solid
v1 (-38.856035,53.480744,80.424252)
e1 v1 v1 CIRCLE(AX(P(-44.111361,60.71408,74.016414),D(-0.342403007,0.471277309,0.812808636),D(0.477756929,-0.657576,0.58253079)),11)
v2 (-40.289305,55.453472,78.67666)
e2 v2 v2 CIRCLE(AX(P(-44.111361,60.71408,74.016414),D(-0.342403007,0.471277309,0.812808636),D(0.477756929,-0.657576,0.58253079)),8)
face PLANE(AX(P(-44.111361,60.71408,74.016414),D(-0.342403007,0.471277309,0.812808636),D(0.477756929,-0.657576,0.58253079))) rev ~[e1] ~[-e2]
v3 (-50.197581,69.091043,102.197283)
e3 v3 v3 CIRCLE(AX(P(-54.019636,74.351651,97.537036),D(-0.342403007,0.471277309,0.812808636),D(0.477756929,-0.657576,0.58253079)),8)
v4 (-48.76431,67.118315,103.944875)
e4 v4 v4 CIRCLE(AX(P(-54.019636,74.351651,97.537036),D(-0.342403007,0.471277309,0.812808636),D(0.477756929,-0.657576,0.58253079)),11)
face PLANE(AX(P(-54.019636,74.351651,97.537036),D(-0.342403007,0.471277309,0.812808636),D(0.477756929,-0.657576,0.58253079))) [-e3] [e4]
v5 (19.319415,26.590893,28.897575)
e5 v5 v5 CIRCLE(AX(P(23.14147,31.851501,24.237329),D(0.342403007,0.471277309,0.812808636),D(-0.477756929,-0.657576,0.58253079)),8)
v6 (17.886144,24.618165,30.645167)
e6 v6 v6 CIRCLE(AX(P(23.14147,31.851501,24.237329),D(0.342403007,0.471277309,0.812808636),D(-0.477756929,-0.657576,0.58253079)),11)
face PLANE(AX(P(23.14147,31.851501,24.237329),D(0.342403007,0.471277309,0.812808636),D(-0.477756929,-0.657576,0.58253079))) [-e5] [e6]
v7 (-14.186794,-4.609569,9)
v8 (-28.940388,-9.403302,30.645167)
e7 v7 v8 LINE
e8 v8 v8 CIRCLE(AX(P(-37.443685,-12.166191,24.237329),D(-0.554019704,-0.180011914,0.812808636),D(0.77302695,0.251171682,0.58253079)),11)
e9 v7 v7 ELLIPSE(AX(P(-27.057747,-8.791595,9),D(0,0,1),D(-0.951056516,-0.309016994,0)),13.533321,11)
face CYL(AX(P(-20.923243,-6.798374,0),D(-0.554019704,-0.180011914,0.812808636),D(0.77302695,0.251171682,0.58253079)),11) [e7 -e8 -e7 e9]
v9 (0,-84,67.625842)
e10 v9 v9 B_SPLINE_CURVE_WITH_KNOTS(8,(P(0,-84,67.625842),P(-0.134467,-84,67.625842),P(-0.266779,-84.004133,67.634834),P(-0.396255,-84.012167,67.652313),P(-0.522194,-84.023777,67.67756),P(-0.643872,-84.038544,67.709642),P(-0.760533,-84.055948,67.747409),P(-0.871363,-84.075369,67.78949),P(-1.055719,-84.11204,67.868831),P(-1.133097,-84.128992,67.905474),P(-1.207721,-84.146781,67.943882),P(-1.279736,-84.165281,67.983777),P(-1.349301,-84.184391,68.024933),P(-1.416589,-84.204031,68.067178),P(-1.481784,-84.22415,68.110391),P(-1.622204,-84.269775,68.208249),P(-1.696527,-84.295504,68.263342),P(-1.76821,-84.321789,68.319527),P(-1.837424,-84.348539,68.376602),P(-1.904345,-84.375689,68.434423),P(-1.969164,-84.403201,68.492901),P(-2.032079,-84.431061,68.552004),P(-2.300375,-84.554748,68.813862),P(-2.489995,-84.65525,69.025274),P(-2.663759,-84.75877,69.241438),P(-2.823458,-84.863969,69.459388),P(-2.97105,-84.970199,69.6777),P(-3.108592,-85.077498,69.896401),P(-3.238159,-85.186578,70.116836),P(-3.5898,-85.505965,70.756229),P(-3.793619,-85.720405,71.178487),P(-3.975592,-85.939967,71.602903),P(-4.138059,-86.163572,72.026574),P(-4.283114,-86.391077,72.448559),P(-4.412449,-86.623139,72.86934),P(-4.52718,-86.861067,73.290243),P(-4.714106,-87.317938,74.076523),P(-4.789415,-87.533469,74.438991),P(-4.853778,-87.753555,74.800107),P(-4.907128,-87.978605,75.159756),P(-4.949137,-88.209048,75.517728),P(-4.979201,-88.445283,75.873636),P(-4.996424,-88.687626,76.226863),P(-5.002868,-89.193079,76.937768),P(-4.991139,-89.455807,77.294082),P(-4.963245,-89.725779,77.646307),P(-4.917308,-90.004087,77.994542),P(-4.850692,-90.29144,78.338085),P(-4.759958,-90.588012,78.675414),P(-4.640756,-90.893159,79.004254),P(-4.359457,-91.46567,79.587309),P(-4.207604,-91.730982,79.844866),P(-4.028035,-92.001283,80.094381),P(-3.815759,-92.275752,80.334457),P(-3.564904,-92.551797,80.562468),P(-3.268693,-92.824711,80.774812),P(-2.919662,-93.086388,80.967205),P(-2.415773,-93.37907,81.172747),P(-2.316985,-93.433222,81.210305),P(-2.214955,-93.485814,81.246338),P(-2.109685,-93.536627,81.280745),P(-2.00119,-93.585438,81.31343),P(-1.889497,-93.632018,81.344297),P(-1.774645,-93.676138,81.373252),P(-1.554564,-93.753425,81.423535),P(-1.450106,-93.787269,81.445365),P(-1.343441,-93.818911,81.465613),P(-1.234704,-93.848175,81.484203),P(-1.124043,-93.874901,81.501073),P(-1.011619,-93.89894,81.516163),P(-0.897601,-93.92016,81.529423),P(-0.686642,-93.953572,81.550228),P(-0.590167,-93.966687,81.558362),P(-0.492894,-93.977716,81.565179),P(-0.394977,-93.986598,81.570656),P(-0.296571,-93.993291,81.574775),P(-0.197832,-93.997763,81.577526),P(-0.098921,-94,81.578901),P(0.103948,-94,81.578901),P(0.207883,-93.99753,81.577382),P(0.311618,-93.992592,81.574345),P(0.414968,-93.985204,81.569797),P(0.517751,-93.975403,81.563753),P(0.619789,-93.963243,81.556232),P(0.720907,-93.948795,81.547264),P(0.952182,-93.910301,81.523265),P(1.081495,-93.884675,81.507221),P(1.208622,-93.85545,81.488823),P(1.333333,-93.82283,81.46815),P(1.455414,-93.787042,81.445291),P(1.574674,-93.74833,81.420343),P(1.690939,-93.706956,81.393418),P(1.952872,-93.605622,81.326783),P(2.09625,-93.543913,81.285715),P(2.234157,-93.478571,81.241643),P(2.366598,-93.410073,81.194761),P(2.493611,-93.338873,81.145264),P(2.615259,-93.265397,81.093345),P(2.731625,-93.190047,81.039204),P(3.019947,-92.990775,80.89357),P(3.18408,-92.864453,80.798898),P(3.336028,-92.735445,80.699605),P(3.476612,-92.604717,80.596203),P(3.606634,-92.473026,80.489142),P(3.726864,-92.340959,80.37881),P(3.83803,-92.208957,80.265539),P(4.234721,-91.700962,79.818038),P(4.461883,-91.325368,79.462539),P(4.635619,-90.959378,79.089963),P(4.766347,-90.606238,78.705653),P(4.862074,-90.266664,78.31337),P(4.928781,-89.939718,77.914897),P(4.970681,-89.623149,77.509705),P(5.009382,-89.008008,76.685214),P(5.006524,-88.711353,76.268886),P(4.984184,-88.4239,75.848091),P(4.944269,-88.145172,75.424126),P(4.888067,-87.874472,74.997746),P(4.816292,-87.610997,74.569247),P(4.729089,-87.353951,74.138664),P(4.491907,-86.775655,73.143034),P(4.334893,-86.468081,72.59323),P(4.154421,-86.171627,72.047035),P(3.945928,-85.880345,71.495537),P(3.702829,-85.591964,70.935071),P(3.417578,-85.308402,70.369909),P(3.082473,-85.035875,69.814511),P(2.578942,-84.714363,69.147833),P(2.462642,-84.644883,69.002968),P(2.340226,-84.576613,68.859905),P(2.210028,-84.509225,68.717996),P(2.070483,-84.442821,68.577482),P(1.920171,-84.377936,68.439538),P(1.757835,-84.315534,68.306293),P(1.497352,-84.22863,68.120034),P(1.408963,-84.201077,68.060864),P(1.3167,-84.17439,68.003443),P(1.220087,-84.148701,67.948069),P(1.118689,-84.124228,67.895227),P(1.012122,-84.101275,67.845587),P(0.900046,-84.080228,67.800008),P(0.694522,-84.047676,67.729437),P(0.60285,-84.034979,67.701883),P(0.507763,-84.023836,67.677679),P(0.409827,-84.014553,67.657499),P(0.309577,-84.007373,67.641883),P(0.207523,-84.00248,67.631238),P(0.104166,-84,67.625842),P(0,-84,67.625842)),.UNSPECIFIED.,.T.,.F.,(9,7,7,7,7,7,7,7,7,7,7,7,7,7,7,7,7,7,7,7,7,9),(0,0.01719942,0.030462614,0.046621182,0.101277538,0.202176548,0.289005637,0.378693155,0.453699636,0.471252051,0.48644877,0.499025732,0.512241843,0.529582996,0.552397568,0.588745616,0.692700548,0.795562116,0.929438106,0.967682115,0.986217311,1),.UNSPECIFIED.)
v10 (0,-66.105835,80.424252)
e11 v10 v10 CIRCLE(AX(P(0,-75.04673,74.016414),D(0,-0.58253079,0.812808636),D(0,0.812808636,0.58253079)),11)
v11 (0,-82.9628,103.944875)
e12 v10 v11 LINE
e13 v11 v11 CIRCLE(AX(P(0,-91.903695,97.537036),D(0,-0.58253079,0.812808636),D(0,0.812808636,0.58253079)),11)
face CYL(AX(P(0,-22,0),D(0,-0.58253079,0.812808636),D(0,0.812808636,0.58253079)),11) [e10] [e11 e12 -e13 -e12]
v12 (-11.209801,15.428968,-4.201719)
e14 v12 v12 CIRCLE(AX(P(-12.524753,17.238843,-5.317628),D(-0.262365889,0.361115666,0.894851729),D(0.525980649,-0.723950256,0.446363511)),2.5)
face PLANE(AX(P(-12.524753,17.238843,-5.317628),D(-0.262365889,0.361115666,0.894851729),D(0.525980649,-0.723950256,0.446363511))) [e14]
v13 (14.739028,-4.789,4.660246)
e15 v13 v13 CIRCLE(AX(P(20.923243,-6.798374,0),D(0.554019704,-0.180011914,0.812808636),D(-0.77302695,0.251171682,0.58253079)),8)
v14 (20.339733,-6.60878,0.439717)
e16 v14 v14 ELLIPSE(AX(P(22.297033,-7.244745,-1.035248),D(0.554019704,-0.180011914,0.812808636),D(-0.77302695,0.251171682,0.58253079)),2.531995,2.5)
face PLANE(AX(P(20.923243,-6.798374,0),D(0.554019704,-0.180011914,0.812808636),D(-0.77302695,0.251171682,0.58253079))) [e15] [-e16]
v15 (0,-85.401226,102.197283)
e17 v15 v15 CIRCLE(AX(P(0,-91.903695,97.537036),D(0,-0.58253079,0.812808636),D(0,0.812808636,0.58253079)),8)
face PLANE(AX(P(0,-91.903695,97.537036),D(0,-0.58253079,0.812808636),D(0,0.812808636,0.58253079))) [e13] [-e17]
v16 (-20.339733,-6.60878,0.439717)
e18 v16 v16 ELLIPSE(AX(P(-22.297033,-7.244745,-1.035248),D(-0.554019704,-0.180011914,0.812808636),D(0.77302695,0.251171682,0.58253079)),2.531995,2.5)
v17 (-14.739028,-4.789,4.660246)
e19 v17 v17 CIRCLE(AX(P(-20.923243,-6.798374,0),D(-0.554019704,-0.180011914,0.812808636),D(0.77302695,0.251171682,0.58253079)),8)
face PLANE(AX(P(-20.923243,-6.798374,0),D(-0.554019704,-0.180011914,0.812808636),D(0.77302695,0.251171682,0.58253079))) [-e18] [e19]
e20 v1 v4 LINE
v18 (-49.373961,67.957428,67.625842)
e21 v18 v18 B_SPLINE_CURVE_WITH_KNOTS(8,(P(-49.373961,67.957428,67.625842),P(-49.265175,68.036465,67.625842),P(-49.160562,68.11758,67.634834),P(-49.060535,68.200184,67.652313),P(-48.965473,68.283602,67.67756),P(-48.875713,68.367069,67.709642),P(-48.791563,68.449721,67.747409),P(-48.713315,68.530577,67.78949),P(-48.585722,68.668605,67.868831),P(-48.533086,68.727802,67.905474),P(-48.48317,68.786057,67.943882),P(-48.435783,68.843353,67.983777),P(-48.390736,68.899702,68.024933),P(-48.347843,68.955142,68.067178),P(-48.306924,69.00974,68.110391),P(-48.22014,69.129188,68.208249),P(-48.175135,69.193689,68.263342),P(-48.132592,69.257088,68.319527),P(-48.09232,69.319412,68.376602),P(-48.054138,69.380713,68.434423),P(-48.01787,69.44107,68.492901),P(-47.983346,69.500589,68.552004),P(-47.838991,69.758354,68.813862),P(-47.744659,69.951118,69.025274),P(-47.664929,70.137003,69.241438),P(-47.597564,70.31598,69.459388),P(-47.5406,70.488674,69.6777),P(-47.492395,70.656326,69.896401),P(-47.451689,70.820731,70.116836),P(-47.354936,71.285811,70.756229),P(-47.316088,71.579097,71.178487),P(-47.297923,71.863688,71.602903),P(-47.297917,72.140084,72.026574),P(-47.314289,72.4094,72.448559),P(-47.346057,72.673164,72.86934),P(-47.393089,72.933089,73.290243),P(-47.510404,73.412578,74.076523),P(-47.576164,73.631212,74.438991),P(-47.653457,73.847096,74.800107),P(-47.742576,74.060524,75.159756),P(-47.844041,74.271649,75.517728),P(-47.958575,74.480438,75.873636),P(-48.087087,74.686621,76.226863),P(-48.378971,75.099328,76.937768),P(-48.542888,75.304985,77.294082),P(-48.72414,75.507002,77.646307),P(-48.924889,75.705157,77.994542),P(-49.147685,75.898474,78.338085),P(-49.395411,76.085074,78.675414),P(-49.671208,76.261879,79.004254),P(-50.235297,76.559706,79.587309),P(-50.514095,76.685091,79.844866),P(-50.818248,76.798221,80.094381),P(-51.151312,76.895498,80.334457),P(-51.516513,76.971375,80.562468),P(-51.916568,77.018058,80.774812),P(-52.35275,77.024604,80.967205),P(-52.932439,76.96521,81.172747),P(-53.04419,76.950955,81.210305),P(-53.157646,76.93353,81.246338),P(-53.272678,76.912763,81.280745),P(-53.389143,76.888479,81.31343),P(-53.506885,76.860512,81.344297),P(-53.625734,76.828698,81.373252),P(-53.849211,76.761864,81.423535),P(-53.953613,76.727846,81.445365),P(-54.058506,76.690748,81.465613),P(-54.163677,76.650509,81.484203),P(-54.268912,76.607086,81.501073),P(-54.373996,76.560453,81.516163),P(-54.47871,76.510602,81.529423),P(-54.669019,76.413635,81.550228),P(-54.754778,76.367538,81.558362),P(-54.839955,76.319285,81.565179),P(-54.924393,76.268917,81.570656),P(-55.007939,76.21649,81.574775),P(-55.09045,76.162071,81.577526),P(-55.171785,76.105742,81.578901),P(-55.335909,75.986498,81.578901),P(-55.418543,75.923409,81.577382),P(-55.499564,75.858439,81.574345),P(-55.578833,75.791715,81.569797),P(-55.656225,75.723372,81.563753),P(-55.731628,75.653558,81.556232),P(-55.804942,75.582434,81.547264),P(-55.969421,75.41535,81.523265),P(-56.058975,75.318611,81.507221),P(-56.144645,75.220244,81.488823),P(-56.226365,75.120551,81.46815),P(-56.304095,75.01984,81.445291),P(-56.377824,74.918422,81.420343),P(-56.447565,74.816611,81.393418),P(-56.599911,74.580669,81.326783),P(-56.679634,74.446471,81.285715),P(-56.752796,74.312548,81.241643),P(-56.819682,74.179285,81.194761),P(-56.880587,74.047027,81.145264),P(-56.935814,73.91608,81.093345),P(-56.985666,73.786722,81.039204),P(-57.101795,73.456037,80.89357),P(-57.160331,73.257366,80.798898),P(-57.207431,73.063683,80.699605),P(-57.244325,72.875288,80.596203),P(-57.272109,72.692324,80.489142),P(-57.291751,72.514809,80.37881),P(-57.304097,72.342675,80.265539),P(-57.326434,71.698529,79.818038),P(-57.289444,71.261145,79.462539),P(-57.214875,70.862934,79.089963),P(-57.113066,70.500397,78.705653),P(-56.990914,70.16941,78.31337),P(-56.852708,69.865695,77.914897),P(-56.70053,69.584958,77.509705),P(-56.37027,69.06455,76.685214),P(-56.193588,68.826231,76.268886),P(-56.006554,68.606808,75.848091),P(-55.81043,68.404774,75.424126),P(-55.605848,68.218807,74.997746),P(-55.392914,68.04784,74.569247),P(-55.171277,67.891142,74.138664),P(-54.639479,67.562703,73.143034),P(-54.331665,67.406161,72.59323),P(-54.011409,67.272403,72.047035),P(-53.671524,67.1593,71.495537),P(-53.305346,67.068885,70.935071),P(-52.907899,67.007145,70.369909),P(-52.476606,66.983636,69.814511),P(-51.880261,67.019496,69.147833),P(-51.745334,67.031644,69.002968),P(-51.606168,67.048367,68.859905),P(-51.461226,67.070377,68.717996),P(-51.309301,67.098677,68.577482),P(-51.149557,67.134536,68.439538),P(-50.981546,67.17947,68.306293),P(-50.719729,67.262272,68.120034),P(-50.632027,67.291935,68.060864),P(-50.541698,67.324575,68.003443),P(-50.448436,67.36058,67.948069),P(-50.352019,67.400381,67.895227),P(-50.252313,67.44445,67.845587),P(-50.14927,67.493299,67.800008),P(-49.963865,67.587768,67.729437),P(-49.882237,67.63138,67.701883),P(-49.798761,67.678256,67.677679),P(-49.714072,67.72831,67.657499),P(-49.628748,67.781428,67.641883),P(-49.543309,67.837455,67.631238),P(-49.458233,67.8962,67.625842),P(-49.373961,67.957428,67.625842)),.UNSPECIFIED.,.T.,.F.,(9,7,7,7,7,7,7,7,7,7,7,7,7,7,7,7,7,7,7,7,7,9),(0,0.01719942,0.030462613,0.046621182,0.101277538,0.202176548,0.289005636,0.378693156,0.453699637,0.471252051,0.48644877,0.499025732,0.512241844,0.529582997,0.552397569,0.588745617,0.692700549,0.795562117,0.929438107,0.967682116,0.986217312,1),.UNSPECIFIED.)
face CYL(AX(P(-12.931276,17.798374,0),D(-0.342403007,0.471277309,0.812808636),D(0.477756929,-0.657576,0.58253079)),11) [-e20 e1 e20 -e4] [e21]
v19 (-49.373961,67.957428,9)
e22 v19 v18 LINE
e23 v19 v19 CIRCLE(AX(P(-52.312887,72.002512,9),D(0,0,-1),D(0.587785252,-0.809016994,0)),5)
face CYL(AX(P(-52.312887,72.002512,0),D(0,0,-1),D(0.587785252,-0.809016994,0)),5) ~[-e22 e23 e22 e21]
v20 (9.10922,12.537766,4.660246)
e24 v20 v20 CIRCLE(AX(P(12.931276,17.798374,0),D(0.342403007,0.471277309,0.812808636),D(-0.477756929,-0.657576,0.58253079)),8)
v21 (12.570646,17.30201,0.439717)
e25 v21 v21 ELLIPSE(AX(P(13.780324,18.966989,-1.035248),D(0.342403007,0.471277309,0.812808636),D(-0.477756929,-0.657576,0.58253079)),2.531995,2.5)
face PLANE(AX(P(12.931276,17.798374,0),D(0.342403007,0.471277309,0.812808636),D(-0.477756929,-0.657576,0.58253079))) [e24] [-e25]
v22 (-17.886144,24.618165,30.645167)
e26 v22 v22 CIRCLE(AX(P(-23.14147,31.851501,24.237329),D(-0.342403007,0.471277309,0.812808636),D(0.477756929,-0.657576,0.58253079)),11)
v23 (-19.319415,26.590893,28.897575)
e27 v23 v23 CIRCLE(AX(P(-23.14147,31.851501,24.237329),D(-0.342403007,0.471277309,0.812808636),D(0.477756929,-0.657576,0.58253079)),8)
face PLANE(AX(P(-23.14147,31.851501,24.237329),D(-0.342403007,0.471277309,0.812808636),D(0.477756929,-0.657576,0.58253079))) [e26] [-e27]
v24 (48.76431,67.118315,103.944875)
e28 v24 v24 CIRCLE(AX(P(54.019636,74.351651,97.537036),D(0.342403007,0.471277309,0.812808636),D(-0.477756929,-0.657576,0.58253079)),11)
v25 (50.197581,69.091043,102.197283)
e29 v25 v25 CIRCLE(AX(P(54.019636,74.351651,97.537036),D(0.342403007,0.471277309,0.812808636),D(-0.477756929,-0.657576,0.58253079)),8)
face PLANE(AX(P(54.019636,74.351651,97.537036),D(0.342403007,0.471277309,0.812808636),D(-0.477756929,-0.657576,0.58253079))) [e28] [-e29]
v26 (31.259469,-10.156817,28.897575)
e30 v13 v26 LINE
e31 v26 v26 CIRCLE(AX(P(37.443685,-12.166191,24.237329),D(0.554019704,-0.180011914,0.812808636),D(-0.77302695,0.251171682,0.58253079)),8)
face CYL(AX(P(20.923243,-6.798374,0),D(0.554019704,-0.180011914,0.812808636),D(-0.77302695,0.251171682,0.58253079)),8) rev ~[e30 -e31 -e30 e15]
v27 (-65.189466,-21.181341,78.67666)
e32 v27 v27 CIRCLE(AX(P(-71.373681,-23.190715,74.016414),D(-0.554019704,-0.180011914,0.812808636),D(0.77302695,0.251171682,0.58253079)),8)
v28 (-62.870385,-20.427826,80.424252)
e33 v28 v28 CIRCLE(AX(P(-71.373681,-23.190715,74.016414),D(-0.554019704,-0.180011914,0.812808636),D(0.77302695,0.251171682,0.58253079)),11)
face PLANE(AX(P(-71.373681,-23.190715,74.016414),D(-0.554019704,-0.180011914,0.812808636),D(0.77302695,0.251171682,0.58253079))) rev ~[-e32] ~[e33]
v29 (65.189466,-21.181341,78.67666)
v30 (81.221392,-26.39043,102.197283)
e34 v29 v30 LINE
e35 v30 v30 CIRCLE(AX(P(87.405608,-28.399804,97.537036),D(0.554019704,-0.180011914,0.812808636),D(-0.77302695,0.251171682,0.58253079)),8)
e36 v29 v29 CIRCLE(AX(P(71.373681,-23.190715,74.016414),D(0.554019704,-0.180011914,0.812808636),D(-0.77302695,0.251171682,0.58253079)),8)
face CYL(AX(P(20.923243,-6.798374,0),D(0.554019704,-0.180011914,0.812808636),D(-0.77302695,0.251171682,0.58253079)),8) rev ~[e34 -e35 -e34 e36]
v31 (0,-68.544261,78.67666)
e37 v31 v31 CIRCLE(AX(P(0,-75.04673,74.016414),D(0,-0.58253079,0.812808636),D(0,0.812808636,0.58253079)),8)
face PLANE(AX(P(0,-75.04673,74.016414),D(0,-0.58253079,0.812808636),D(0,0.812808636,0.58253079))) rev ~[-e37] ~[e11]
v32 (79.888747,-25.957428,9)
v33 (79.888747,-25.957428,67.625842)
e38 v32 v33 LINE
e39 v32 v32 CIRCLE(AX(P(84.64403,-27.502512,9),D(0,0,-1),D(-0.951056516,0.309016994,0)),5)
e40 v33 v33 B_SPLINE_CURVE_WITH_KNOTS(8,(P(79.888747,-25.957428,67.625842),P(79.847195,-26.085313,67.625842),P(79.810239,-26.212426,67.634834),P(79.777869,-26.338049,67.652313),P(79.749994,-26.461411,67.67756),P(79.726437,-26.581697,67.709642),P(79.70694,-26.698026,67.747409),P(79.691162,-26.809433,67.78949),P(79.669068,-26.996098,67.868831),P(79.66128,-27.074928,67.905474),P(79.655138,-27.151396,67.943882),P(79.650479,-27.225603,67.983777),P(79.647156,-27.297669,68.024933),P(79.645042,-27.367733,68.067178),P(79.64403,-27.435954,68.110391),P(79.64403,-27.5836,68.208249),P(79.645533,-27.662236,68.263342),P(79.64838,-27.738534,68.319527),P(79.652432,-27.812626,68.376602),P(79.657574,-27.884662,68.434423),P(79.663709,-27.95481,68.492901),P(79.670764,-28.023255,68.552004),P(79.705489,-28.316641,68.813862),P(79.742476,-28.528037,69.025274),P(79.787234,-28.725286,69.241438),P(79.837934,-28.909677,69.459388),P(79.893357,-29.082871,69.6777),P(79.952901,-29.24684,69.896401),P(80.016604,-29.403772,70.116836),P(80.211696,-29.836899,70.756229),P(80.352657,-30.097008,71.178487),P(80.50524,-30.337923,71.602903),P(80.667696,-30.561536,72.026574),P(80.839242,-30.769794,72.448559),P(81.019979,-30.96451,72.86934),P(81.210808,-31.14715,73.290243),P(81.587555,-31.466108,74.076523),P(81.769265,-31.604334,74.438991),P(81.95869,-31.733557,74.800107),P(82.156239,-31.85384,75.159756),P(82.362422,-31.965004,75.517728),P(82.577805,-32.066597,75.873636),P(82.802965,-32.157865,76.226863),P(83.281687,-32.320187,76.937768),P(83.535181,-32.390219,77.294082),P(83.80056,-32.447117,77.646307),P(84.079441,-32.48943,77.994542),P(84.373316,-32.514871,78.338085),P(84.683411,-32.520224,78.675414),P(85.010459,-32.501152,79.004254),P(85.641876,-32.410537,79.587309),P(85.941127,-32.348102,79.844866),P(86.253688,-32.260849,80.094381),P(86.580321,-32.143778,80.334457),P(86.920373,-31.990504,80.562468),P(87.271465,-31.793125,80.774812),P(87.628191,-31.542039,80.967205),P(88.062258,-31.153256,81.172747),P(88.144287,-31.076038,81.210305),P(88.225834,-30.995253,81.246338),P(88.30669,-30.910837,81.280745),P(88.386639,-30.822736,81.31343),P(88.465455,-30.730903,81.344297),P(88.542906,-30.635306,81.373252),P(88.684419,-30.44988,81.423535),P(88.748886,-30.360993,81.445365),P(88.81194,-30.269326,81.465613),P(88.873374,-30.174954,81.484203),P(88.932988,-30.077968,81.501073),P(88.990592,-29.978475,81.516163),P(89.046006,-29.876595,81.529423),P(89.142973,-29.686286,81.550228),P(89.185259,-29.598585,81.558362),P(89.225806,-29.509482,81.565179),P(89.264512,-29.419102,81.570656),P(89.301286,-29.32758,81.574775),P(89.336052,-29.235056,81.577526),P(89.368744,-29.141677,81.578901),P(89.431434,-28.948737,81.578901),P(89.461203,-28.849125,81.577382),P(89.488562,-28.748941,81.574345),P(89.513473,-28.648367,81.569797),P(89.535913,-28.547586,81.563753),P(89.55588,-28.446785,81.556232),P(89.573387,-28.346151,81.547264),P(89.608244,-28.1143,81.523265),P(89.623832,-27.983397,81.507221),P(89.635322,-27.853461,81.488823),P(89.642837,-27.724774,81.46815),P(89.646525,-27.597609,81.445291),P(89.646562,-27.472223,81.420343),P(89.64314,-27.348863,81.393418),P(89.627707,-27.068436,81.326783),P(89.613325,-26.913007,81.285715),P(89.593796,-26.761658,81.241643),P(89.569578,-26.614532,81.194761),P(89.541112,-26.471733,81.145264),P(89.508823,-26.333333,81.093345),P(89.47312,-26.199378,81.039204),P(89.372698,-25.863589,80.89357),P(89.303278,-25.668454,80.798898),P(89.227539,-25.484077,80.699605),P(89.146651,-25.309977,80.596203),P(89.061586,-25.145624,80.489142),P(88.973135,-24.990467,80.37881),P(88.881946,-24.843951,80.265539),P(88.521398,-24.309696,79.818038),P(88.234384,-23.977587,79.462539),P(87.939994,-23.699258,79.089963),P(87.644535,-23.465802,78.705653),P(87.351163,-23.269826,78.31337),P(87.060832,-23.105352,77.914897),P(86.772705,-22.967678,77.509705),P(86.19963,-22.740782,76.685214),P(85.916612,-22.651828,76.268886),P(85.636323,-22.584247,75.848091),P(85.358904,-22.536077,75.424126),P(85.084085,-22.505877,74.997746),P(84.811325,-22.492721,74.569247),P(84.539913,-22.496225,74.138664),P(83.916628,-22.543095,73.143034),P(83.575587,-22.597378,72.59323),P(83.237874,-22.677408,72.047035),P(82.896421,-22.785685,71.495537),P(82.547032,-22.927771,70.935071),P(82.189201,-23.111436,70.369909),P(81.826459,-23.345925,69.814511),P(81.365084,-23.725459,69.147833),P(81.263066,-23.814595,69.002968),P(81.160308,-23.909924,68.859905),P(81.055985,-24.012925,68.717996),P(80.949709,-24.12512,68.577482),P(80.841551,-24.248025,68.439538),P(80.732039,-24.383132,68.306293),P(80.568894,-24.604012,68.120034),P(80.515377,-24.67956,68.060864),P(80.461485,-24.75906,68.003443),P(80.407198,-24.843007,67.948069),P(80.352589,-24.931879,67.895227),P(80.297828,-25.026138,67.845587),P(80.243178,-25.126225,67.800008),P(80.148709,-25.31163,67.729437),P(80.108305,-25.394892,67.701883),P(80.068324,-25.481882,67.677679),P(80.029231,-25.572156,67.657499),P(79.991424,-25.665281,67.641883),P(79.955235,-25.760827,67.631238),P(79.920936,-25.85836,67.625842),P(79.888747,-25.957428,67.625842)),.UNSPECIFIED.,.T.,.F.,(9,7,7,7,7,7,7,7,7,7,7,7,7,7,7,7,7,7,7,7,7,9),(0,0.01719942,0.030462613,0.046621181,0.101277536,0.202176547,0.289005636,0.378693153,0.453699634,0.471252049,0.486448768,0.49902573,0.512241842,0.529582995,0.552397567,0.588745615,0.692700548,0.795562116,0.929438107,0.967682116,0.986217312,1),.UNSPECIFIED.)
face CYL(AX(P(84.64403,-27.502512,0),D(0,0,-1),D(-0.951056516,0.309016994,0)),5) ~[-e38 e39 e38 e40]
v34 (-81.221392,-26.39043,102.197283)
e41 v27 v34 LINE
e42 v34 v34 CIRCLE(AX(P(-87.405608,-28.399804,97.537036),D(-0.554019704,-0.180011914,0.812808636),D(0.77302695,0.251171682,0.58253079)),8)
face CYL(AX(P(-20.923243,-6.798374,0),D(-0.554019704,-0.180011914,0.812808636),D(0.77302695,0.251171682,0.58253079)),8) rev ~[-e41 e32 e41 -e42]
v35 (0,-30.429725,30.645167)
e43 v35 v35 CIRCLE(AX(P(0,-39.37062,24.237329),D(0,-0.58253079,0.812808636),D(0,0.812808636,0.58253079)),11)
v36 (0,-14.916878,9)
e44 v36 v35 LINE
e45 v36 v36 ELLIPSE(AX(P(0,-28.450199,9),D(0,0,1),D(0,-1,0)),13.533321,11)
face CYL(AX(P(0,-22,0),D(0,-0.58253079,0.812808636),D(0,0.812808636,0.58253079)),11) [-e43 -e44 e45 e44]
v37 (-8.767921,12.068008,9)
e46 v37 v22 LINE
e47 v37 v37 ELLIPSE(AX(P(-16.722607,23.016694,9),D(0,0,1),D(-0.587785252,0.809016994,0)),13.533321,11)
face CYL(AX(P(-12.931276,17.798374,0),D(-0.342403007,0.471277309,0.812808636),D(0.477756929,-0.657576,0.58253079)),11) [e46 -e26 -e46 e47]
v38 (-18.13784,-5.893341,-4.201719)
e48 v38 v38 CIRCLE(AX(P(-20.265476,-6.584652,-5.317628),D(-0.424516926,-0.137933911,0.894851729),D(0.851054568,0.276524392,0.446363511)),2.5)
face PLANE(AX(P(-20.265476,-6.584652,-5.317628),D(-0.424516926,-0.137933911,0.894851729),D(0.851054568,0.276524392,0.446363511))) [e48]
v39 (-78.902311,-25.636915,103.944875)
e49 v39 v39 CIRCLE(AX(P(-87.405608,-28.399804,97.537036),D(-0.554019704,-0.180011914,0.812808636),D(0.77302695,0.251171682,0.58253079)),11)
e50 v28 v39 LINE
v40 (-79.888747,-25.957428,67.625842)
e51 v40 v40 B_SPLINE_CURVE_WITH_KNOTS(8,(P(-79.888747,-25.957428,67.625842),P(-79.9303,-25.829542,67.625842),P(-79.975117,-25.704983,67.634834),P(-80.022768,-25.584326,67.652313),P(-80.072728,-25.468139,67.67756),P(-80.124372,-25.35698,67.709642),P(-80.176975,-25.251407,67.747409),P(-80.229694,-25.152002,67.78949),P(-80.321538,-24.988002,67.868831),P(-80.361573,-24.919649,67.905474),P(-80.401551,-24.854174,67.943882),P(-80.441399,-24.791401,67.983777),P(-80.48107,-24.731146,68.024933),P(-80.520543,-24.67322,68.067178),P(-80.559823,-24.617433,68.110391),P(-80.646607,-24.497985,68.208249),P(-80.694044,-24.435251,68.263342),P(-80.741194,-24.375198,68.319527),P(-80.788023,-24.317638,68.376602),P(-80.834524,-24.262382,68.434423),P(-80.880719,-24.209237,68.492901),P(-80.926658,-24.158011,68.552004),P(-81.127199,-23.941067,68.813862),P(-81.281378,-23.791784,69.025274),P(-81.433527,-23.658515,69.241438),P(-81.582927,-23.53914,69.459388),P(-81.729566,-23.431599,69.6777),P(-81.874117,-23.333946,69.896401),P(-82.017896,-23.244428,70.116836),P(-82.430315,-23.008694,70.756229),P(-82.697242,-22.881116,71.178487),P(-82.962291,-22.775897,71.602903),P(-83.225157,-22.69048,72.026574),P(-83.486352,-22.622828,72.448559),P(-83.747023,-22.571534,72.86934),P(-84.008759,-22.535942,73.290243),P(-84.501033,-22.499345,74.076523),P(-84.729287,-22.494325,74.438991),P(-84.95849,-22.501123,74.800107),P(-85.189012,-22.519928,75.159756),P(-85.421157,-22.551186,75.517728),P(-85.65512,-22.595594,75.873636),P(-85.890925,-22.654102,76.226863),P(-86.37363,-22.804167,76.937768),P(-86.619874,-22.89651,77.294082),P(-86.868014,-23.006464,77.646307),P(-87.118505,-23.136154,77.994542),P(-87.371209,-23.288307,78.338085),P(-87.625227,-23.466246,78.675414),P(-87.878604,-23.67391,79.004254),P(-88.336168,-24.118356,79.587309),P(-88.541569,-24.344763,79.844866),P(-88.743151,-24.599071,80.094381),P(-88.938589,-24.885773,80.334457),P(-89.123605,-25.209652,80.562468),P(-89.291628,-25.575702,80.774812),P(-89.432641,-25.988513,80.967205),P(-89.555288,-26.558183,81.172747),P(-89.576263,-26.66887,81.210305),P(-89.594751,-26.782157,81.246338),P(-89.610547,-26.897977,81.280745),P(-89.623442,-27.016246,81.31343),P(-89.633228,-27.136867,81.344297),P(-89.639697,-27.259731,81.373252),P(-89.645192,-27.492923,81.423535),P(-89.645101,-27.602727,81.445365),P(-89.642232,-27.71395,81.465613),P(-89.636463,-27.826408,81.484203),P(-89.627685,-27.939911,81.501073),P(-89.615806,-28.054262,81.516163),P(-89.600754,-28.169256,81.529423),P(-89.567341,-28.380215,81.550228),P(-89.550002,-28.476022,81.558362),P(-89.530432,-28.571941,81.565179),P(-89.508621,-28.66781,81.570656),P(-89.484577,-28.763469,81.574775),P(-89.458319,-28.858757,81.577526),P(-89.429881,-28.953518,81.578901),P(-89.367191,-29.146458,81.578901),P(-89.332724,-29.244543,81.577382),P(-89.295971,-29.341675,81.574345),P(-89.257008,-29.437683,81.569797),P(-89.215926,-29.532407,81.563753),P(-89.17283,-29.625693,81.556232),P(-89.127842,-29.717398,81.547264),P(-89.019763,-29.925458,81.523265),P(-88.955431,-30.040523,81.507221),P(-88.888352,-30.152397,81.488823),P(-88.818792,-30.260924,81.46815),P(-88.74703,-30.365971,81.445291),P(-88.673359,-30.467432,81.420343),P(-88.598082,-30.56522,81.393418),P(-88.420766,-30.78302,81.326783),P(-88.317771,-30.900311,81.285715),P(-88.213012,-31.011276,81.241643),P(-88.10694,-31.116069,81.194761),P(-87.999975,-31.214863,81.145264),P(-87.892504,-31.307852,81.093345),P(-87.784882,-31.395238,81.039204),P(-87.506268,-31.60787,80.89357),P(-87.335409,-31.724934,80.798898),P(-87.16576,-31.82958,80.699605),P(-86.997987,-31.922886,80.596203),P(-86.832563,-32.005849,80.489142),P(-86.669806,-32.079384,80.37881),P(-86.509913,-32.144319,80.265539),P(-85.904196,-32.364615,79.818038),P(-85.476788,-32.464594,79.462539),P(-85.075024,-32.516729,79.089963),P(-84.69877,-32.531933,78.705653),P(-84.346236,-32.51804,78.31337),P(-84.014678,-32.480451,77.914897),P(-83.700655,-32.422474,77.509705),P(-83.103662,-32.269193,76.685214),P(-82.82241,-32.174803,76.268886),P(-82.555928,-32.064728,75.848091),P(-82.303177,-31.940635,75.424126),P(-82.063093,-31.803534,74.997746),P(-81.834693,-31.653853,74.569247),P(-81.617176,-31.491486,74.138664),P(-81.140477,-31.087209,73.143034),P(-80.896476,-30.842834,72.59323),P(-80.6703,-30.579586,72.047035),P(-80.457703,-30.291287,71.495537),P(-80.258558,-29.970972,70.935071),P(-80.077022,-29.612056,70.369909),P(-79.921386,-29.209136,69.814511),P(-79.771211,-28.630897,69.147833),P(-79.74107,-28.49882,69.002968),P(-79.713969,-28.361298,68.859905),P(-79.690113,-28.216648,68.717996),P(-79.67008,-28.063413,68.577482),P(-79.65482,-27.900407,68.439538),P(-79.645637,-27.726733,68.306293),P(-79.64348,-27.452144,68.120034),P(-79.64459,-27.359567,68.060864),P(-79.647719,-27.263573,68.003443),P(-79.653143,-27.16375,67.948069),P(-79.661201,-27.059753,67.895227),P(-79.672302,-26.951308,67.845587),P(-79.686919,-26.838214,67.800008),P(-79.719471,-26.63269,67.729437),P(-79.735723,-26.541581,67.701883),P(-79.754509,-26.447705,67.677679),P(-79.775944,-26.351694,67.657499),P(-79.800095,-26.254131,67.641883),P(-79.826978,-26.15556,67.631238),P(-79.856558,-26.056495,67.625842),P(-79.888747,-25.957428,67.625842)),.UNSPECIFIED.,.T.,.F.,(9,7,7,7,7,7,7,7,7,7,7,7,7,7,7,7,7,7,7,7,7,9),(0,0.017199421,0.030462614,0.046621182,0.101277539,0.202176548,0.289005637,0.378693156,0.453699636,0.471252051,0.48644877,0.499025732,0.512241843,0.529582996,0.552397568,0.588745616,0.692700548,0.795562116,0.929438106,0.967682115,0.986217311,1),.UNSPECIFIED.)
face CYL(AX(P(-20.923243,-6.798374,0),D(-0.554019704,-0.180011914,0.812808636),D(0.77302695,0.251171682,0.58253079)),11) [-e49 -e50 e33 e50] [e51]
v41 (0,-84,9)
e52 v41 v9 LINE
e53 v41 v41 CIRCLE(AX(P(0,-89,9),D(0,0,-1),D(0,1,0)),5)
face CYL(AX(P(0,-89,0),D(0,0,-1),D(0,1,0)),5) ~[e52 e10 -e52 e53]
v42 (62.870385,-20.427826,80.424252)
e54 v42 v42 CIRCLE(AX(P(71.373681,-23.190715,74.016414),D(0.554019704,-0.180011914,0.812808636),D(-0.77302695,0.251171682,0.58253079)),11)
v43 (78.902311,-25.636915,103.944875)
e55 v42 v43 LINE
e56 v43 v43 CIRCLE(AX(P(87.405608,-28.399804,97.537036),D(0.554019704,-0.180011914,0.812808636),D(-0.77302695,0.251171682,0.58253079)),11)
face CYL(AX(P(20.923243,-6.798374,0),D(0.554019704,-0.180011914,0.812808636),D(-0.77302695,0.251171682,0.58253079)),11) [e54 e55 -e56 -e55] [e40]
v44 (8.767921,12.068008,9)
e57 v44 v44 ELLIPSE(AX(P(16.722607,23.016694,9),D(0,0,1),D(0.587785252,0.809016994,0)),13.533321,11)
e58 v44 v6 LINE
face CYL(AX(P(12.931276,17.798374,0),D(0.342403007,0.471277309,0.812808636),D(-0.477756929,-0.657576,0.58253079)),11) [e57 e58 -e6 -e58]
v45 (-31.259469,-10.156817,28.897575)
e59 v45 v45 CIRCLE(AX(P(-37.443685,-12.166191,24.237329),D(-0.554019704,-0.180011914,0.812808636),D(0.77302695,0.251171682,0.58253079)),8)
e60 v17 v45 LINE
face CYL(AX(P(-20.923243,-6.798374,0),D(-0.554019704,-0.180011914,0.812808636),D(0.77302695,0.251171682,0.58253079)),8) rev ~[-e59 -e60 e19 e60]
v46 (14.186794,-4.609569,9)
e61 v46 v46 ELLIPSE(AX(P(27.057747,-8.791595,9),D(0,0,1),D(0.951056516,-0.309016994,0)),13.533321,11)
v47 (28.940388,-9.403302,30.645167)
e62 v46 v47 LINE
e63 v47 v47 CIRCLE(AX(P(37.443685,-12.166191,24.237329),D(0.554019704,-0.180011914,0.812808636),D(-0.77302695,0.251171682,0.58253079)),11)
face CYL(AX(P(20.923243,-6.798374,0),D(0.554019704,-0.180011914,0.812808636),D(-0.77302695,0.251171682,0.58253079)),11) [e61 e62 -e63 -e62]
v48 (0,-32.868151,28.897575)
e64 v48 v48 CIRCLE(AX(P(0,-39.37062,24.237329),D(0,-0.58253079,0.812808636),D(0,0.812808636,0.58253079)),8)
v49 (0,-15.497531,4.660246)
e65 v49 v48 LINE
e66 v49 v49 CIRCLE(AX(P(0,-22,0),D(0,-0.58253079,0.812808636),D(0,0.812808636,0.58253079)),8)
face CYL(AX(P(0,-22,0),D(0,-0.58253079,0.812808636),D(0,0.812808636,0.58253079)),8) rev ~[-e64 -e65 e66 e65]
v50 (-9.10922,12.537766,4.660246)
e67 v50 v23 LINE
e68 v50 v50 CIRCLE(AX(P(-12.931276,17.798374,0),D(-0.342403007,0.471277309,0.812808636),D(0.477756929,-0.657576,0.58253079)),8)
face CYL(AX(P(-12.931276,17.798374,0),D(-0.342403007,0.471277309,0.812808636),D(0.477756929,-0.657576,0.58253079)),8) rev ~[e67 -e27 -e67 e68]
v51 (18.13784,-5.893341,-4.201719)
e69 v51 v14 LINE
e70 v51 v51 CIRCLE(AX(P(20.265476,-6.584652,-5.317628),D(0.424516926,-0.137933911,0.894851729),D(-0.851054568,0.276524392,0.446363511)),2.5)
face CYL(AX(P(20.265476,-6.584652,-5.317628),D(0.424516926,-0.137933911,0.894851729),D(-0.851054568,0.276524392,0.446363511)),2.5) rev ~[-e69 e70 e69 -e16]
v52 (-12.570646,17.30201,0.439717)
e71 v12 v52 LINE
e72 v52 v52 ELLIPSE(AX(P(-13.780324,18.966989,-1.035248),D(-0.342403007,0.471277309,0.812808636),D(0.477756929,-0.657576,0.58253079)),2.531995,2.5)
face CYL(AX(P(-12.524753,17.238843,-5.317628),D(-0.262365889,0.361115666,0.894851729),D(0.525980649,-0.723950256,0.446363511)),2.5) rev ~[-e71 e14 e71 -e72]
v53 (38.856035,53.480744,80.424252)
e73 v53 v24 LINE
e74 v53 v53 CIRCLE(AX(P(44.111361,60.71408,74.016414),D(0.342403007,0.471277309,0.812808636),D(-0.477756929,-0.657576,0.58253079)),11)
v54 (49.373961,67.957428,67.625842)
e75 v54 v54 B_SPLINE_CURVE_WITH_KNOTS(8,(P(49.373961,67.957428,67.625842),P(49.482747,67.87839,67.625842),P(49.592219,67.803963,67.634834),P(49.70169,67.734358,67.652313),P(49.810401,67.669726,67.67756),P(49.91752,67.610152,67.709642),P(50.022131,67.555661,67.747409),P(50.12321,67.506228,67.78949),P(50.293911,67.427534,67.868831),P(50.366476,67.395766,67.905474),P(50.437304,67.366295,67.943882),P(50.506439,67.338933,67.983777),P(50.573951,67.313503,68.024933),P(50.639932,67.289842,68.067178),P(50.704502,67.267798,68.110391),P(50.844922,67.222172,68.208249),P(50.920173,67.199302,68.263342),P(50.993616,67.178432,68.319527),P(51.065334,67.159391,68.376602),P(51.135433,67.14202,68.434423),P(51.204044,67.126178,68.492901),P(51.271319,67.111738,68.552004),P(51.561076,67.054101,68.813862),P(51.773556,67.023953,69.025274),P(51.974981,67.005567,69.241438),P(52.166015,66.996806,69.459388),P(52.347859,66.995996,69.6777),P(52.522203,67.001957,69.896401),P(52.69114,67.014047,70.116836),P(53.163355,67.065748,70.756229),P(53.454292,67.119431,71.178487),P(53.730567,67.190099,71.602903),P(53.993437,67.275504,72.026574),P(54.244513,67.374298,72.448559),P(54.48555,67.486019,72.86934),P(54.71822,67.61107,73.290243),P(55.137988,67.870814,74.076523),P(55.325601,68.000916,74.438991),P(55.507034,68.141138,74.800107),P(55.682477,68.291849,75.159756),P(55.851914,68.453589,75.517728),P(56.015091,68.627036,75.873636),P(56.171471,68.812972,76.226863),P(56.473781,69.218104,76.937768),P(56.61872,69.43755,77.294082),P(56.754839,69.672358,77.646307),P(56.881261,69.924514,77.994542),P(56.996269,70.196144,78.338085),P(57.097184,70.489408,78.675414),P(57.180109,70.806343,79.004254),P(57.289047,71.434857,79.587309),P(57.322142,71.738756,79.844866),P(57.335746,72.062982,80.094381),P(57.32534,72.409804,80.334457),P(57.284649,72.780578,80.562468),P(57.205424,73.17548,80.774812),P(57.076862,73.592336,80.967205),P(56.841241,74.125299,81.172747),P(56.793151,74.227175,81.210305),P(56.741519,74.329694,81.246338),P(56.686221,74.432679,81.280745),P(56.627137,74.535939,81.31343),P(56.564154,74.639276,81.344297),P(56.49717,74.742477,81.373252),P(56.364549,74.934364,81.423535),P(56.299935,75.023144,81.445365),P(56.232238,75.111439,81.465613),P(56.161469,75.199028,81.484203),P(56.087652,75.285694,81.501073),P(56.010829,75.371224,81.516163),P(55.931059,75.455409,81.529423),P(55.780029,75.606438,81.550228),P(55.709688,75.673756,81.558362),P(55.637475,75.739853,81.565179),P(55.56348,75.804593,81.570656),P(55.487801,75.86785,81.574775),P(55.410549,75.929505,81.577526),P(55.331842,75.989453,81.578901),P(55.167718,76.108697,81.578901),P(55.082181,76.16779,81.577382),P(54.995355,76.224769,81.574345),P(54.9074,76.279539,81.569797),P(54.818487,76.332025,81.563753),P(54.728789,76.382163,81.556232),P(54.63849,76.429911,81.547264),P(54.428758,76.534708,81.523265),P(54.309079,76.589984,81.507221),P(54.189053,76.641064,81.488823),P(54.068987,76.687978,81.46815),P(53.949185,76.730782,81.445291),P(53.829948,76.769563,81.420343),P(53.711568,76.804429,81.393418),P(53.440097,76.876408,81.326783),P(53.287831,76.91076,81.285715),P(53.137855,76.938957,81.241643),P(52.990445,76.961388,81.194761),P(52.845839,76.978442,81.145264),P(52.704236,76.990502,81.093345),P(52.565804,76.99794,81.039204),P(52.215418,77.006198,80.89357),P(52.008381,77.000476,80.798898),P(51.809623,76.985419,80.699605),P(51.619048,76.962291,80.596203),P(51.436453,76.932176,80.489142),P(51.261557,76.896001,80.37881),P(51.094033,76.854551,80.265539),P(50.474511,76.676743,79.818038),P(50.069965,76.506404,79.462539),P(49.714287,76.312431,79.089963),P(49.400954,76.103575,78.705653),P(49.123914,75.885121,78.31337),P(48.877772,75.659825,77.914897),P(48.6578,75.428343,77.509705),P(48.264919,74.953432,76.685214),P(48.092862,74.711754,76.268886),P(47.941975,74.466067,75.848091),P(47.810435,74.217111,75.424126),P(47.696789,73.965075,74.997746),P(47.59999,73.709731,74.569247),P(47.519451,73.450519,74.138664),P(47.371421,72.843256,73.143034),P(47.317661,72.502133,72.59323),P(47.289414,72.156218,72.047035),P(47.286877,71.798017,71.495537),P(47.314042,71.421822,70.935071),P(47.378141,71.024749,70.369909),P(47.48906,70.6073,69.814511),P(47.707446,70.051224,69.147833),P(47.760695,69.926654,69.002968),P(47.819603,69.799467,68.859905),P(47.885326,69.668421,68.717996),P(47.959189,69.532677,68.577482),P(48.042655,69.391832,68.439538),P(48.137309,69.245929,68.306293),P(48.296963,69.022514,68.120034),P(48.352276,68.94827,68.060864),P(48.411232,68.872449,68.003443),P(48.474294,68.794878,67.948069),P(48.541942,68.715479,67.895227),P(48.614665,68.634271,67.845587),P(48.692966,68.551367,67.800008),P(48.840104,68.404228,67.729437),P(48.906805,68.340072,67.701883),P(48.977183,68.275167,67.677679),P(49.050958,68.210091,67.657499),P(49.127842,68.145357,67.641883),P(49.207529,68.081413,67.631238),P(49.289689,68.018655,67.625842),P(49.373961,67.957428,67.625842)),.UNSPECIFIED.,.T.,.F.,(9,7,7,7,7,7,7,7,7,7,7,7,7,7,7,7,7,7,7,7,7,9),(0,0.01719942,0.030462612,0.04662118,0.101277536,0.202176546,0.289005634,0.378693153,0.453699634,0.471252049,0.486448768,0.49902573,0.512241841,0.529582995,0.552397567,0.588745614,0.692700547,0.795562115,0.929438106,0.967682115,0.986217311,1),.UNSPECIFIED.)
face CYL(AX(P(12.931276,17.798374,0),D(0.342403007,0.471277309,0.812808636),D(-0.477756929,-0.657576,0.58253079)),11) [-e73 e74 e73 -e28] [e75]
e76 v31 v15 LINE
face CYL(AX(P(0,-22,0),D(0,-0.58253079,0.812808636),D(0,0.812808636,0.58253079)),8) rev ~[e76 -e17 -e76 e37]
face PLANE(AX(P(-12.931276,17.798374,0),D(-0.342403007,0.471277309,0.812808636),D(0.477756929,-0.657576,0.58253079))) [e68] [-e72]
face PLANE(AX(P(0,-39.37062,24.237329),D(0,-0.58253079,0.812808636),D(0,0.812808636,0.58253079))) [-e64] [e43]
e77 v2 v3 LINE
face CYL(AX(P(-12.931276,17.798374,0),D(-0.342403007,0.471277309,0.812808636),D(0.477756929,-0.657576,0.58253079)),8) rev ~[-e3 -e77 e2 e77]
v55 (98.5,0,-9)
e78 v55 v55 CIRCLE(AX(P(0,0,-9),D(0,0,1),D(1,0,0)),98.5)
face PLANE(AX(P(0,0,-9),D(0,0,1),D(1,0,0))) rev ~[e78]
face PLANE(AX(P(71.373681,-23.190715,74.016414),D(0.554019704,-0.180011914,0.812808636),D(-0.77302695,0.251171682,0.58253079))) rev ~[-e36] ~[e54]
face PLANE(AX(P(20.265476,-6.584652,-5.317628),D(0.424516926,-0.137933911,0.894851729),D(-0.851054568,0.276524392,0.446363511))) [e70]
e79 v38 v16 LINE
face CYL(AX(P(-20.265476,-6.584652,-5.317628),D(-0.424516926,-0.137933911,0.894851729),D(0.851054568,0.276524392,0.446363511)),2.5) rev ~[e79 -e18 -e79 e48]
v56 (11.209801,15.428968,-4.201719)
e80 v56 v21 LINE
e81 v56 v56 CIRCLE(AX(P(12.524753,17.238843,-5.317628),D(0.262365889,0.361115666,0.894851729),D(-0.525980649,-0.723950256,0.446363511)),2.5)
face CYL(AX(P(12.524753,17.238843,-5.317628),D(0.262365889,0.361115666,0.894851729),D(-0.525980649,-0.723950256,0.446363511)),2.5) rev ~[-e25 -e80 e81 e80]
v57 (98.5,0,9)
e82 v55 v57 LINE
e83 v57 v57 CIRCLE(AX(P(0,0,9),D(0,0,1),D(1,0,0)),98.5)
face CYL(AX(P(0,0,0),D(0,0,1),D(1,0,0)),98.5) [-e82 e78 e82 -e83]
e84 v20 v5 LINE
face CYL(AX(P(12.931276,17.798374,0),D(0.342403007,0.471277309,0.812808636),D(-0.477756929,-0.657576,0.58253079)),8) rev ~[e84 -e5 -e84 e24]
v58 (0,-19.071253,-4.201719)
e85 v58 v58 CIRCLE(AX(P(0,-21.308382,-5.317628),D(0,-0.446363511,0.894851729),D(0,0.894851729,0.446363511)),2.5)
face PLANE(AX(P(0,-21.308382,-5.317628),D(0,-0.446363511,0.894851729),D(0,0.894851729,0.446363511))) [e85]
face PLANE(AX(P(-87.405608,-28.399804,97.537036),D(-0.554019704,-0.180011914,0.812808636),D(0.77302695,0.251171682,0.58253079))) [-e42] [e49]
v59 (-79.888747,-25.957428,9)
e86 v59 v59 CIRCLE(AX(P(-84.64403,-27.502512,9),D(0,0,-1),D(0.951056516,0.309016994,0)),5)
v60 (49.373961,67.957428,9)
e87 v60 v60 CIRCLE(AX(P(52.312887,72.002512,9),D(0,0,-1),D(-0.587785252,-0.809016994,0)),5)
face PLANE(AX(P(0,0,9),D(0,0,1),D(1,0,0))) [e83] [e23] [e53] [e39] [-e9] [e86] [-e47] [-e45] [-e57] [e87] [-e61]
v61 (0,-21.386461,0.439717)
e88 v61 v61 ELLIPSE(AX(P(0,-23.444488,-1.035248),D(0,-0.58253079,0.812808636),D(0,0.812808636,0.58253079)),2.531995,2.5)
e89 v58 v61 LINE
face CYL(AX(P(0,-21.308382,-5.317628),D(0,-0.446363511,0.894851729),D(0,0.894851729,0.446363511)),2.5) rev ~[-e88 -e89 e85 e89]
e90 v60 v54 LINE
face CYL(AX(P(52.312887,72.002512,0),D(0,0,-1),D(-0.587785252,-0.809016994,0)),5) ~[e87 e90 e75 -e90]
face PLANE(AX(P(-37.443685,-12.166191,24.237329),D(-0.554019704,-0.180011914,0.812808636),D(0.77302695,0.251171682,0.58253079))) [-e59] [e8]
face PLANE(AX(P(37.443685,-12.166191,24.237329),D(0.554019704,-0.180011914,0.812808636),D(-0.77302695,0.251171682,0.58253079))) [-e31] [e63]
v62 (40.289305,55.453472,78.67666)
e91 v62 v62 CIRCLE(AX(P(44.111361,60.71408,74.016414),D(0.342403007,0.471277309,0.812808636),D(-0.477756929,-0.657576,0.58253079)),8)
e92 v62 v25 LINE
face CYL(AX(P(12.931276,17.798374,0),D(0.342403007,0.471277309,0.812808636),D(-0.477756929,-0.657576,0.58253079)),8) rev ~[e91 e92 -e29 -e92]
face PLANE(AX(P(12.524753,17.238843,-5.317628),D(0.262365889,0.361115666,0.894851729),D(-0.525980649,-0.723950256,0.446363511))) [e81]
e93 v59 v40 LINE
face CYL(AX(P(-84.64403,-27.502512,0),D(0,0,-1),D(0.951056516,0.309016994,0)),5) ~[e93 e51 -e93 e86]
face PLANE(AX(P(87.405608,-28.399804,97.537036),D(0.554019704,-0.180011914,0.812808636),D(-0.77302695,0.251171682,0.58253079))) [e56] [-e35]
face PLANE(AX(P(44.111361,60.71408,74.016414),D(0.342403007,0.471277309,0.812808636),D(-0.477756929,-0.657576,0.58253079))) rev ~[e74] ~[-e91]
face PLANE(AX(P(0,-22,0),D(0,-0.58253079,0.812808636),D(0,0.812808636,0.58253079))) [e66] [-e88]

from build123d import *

# Parameters (mm, degrees)
SKETCH1_R            = 98.5
BOSS_EXTRUDE1_DEPTH  = 9
SWEEP2_PROFILE_R     = 11
SKETCH65_R           = 5
BOSS_EXTRUDE2_DEPTH  = 96
CUT_SWEEP1_PROFILE_R = 8
CUT_SWEEP8_PROFILE_R = 11
CUT_SWEEP7_PROFILE_R = 2.5
CIRPATTERN1_COUNT    = 5


with BuildPart() as part:
    # Sketch1 → Boss-Extrude1 (new, symmetric)
    with BuildSketch(Plane.XY):
        Circle(SKETCH1_R)
    extrude(amount=BOSS_EXTRUDE1_DEPTH, both=True)

    # Sweep2: sweep along a path in Sketch3
    with BuildLine(Plane(origin=(0, 0, 0), x_dir=(0, 0, -1), z_dir=(1, 0, 0))) as sweep2_path:
        Line((0, -22), (-97.537036334, -91.903694775))
    # Sweep2 profile (on start of the path) → Sweep2 (sweep)
    with BuildSketch(Plane(origin=(0, -22, 0), x_dir=(0, 0.8128086361148117, 0.5825307897932775), z_dir=(0, -0.5825307897932775, 0.8128086361148117))):
        Circle(SWEEP2_PROFILE_R)
    sweep2 = sweep(path=sweep2_path.line)

    # Sketch65 → Boss-Extrude2 (add)
    with BuildSketch(Plane.XY):
        with Locations((0, -89)):
            Circle(SKETCH65_R)
    boss_extrude2 = extrude(amount=BOSS_EXTRUDE2_DEPTH)

    # Cut-Sweep1: sweep along a path in Sketch3<2>
    with BuildLine(Plane(origin=(0, 0, 0), x_dir=(0, 0, -1), z_dir=(1, 0, 0))) as cut_sweep1_path:
        Line((0, -22), (-97.537036334, -91.903694775))
    # Cut-Sweep1 profile (on start of the path) → Cut-Sweep1 (sweep, cut)
    with BuildSketch(Plane(origin=(0, -22, 0), x_dir=(0, 0.8128086361148117, 0.5825307897932775), z_dir=(0, -0.5825307897932775, 0.8128086361148117))):
        Circle(CUT_SWEEP1_PROFILE_R)
    cut_sweep1 = sweep(path=cut_sweep1_path.line, mode=Mode.SUBTRACT)

    # Cut-Sweep8: sweep along a path in Sketch534
    with BuildLine(Plane(origin=(0, 0, 0), x_dir=(0, 0, -1), z_dir=(1, 0, 0))) as cut_sweep8_path:
        Line((-24.237328538, -39.370620228), (-74.016413707, -75.046729597))
    # Cut-Sweep8 profile (on start of the path) → Cut-Sweep8 (sweep, cut)
    with BuildSketch(Plane(origin=(0, -39.370620228, 24.237328538), x_dir=(0, 0.8128086361148117, 0.5825307897932777), z_dir=(0, -0.5825307897932777, 0.8128086361148117))):
        Circle(CUT_SWEEP8_PROFILE_R)
    cut_sweep8 = sweep(path=cut_sweep8_path.line, mode=Mode.SUBTRACT)

    # Cut-Sweep7: sweep along a path in Sketch199
    with BuildLine(Plane(origin=(0, 0, 0), x_dir=(0, 0, -1), z_dir=(1, 0, 0))) as cut_sweep7_path:
        Line((5.317627658, -21.308382404), (-9, -28.450198577))
    # Cut-Sweep7 profile (on start of the path) → Cut-Sweep7 (sweep, cut)
    with BuildSketch(Plane(origin=(0, -21.308382404, -5.317627658), x_dir=(0, 0.89485172861867, 0.44636351081621606), z_dir=(0, -0.44636351081621606, 0.89485172861867))):
        Circle(CUT_SWEEP7_PROFILE_R)
    cut_sweep7 = sweep(path=cut_sweep7_path.line, mode=Mode.SUBTRACT)

    # CirPattern1: Sweep2, Boss-Extrude2, Cut-Sweep1, Cut-Sweep8, Cut-Sweep7 ×5 about axis
    cirpattern1_axis = Axis((0, 0, 0), (0, 0, 1))
    add([sweep2.rotate(cirpattern1_axis, i * 360 / CIRPATTERN1_COUNT) for i in range(1, CIRPATTERN1_COUNT)])
    add([boss_extrude2.rotate(cirpattern1_axis, i * 360 / CIRPATTERN1_COUNT) for i in range(1, CIRPATTERN1_COUNT)])
    add([cut_sweep1.rotate(cirpattern1_axis, i * 360 / CIRPATTERN1_COUNT) for i in range(1, CIRPATTERN1_COUNT)], mode=Mode.SUBTRACT)
    add([cut_sweep8.rotate(cirpattern1_axis, i * 360 / CIRPATTERN1_COUNT) for i in range(1, CIRPATTERN1_COUNT)], mode=Mode.SUBTRACT)
    add([cut_sweep7.rotate(cirpattern1_axis, i * 360 / CIRPATTERN1_COUNT) for i in range(1, CIRPATTERN1_COUNT)], mode=Mode.SUBTRACT)


solid = part.part
